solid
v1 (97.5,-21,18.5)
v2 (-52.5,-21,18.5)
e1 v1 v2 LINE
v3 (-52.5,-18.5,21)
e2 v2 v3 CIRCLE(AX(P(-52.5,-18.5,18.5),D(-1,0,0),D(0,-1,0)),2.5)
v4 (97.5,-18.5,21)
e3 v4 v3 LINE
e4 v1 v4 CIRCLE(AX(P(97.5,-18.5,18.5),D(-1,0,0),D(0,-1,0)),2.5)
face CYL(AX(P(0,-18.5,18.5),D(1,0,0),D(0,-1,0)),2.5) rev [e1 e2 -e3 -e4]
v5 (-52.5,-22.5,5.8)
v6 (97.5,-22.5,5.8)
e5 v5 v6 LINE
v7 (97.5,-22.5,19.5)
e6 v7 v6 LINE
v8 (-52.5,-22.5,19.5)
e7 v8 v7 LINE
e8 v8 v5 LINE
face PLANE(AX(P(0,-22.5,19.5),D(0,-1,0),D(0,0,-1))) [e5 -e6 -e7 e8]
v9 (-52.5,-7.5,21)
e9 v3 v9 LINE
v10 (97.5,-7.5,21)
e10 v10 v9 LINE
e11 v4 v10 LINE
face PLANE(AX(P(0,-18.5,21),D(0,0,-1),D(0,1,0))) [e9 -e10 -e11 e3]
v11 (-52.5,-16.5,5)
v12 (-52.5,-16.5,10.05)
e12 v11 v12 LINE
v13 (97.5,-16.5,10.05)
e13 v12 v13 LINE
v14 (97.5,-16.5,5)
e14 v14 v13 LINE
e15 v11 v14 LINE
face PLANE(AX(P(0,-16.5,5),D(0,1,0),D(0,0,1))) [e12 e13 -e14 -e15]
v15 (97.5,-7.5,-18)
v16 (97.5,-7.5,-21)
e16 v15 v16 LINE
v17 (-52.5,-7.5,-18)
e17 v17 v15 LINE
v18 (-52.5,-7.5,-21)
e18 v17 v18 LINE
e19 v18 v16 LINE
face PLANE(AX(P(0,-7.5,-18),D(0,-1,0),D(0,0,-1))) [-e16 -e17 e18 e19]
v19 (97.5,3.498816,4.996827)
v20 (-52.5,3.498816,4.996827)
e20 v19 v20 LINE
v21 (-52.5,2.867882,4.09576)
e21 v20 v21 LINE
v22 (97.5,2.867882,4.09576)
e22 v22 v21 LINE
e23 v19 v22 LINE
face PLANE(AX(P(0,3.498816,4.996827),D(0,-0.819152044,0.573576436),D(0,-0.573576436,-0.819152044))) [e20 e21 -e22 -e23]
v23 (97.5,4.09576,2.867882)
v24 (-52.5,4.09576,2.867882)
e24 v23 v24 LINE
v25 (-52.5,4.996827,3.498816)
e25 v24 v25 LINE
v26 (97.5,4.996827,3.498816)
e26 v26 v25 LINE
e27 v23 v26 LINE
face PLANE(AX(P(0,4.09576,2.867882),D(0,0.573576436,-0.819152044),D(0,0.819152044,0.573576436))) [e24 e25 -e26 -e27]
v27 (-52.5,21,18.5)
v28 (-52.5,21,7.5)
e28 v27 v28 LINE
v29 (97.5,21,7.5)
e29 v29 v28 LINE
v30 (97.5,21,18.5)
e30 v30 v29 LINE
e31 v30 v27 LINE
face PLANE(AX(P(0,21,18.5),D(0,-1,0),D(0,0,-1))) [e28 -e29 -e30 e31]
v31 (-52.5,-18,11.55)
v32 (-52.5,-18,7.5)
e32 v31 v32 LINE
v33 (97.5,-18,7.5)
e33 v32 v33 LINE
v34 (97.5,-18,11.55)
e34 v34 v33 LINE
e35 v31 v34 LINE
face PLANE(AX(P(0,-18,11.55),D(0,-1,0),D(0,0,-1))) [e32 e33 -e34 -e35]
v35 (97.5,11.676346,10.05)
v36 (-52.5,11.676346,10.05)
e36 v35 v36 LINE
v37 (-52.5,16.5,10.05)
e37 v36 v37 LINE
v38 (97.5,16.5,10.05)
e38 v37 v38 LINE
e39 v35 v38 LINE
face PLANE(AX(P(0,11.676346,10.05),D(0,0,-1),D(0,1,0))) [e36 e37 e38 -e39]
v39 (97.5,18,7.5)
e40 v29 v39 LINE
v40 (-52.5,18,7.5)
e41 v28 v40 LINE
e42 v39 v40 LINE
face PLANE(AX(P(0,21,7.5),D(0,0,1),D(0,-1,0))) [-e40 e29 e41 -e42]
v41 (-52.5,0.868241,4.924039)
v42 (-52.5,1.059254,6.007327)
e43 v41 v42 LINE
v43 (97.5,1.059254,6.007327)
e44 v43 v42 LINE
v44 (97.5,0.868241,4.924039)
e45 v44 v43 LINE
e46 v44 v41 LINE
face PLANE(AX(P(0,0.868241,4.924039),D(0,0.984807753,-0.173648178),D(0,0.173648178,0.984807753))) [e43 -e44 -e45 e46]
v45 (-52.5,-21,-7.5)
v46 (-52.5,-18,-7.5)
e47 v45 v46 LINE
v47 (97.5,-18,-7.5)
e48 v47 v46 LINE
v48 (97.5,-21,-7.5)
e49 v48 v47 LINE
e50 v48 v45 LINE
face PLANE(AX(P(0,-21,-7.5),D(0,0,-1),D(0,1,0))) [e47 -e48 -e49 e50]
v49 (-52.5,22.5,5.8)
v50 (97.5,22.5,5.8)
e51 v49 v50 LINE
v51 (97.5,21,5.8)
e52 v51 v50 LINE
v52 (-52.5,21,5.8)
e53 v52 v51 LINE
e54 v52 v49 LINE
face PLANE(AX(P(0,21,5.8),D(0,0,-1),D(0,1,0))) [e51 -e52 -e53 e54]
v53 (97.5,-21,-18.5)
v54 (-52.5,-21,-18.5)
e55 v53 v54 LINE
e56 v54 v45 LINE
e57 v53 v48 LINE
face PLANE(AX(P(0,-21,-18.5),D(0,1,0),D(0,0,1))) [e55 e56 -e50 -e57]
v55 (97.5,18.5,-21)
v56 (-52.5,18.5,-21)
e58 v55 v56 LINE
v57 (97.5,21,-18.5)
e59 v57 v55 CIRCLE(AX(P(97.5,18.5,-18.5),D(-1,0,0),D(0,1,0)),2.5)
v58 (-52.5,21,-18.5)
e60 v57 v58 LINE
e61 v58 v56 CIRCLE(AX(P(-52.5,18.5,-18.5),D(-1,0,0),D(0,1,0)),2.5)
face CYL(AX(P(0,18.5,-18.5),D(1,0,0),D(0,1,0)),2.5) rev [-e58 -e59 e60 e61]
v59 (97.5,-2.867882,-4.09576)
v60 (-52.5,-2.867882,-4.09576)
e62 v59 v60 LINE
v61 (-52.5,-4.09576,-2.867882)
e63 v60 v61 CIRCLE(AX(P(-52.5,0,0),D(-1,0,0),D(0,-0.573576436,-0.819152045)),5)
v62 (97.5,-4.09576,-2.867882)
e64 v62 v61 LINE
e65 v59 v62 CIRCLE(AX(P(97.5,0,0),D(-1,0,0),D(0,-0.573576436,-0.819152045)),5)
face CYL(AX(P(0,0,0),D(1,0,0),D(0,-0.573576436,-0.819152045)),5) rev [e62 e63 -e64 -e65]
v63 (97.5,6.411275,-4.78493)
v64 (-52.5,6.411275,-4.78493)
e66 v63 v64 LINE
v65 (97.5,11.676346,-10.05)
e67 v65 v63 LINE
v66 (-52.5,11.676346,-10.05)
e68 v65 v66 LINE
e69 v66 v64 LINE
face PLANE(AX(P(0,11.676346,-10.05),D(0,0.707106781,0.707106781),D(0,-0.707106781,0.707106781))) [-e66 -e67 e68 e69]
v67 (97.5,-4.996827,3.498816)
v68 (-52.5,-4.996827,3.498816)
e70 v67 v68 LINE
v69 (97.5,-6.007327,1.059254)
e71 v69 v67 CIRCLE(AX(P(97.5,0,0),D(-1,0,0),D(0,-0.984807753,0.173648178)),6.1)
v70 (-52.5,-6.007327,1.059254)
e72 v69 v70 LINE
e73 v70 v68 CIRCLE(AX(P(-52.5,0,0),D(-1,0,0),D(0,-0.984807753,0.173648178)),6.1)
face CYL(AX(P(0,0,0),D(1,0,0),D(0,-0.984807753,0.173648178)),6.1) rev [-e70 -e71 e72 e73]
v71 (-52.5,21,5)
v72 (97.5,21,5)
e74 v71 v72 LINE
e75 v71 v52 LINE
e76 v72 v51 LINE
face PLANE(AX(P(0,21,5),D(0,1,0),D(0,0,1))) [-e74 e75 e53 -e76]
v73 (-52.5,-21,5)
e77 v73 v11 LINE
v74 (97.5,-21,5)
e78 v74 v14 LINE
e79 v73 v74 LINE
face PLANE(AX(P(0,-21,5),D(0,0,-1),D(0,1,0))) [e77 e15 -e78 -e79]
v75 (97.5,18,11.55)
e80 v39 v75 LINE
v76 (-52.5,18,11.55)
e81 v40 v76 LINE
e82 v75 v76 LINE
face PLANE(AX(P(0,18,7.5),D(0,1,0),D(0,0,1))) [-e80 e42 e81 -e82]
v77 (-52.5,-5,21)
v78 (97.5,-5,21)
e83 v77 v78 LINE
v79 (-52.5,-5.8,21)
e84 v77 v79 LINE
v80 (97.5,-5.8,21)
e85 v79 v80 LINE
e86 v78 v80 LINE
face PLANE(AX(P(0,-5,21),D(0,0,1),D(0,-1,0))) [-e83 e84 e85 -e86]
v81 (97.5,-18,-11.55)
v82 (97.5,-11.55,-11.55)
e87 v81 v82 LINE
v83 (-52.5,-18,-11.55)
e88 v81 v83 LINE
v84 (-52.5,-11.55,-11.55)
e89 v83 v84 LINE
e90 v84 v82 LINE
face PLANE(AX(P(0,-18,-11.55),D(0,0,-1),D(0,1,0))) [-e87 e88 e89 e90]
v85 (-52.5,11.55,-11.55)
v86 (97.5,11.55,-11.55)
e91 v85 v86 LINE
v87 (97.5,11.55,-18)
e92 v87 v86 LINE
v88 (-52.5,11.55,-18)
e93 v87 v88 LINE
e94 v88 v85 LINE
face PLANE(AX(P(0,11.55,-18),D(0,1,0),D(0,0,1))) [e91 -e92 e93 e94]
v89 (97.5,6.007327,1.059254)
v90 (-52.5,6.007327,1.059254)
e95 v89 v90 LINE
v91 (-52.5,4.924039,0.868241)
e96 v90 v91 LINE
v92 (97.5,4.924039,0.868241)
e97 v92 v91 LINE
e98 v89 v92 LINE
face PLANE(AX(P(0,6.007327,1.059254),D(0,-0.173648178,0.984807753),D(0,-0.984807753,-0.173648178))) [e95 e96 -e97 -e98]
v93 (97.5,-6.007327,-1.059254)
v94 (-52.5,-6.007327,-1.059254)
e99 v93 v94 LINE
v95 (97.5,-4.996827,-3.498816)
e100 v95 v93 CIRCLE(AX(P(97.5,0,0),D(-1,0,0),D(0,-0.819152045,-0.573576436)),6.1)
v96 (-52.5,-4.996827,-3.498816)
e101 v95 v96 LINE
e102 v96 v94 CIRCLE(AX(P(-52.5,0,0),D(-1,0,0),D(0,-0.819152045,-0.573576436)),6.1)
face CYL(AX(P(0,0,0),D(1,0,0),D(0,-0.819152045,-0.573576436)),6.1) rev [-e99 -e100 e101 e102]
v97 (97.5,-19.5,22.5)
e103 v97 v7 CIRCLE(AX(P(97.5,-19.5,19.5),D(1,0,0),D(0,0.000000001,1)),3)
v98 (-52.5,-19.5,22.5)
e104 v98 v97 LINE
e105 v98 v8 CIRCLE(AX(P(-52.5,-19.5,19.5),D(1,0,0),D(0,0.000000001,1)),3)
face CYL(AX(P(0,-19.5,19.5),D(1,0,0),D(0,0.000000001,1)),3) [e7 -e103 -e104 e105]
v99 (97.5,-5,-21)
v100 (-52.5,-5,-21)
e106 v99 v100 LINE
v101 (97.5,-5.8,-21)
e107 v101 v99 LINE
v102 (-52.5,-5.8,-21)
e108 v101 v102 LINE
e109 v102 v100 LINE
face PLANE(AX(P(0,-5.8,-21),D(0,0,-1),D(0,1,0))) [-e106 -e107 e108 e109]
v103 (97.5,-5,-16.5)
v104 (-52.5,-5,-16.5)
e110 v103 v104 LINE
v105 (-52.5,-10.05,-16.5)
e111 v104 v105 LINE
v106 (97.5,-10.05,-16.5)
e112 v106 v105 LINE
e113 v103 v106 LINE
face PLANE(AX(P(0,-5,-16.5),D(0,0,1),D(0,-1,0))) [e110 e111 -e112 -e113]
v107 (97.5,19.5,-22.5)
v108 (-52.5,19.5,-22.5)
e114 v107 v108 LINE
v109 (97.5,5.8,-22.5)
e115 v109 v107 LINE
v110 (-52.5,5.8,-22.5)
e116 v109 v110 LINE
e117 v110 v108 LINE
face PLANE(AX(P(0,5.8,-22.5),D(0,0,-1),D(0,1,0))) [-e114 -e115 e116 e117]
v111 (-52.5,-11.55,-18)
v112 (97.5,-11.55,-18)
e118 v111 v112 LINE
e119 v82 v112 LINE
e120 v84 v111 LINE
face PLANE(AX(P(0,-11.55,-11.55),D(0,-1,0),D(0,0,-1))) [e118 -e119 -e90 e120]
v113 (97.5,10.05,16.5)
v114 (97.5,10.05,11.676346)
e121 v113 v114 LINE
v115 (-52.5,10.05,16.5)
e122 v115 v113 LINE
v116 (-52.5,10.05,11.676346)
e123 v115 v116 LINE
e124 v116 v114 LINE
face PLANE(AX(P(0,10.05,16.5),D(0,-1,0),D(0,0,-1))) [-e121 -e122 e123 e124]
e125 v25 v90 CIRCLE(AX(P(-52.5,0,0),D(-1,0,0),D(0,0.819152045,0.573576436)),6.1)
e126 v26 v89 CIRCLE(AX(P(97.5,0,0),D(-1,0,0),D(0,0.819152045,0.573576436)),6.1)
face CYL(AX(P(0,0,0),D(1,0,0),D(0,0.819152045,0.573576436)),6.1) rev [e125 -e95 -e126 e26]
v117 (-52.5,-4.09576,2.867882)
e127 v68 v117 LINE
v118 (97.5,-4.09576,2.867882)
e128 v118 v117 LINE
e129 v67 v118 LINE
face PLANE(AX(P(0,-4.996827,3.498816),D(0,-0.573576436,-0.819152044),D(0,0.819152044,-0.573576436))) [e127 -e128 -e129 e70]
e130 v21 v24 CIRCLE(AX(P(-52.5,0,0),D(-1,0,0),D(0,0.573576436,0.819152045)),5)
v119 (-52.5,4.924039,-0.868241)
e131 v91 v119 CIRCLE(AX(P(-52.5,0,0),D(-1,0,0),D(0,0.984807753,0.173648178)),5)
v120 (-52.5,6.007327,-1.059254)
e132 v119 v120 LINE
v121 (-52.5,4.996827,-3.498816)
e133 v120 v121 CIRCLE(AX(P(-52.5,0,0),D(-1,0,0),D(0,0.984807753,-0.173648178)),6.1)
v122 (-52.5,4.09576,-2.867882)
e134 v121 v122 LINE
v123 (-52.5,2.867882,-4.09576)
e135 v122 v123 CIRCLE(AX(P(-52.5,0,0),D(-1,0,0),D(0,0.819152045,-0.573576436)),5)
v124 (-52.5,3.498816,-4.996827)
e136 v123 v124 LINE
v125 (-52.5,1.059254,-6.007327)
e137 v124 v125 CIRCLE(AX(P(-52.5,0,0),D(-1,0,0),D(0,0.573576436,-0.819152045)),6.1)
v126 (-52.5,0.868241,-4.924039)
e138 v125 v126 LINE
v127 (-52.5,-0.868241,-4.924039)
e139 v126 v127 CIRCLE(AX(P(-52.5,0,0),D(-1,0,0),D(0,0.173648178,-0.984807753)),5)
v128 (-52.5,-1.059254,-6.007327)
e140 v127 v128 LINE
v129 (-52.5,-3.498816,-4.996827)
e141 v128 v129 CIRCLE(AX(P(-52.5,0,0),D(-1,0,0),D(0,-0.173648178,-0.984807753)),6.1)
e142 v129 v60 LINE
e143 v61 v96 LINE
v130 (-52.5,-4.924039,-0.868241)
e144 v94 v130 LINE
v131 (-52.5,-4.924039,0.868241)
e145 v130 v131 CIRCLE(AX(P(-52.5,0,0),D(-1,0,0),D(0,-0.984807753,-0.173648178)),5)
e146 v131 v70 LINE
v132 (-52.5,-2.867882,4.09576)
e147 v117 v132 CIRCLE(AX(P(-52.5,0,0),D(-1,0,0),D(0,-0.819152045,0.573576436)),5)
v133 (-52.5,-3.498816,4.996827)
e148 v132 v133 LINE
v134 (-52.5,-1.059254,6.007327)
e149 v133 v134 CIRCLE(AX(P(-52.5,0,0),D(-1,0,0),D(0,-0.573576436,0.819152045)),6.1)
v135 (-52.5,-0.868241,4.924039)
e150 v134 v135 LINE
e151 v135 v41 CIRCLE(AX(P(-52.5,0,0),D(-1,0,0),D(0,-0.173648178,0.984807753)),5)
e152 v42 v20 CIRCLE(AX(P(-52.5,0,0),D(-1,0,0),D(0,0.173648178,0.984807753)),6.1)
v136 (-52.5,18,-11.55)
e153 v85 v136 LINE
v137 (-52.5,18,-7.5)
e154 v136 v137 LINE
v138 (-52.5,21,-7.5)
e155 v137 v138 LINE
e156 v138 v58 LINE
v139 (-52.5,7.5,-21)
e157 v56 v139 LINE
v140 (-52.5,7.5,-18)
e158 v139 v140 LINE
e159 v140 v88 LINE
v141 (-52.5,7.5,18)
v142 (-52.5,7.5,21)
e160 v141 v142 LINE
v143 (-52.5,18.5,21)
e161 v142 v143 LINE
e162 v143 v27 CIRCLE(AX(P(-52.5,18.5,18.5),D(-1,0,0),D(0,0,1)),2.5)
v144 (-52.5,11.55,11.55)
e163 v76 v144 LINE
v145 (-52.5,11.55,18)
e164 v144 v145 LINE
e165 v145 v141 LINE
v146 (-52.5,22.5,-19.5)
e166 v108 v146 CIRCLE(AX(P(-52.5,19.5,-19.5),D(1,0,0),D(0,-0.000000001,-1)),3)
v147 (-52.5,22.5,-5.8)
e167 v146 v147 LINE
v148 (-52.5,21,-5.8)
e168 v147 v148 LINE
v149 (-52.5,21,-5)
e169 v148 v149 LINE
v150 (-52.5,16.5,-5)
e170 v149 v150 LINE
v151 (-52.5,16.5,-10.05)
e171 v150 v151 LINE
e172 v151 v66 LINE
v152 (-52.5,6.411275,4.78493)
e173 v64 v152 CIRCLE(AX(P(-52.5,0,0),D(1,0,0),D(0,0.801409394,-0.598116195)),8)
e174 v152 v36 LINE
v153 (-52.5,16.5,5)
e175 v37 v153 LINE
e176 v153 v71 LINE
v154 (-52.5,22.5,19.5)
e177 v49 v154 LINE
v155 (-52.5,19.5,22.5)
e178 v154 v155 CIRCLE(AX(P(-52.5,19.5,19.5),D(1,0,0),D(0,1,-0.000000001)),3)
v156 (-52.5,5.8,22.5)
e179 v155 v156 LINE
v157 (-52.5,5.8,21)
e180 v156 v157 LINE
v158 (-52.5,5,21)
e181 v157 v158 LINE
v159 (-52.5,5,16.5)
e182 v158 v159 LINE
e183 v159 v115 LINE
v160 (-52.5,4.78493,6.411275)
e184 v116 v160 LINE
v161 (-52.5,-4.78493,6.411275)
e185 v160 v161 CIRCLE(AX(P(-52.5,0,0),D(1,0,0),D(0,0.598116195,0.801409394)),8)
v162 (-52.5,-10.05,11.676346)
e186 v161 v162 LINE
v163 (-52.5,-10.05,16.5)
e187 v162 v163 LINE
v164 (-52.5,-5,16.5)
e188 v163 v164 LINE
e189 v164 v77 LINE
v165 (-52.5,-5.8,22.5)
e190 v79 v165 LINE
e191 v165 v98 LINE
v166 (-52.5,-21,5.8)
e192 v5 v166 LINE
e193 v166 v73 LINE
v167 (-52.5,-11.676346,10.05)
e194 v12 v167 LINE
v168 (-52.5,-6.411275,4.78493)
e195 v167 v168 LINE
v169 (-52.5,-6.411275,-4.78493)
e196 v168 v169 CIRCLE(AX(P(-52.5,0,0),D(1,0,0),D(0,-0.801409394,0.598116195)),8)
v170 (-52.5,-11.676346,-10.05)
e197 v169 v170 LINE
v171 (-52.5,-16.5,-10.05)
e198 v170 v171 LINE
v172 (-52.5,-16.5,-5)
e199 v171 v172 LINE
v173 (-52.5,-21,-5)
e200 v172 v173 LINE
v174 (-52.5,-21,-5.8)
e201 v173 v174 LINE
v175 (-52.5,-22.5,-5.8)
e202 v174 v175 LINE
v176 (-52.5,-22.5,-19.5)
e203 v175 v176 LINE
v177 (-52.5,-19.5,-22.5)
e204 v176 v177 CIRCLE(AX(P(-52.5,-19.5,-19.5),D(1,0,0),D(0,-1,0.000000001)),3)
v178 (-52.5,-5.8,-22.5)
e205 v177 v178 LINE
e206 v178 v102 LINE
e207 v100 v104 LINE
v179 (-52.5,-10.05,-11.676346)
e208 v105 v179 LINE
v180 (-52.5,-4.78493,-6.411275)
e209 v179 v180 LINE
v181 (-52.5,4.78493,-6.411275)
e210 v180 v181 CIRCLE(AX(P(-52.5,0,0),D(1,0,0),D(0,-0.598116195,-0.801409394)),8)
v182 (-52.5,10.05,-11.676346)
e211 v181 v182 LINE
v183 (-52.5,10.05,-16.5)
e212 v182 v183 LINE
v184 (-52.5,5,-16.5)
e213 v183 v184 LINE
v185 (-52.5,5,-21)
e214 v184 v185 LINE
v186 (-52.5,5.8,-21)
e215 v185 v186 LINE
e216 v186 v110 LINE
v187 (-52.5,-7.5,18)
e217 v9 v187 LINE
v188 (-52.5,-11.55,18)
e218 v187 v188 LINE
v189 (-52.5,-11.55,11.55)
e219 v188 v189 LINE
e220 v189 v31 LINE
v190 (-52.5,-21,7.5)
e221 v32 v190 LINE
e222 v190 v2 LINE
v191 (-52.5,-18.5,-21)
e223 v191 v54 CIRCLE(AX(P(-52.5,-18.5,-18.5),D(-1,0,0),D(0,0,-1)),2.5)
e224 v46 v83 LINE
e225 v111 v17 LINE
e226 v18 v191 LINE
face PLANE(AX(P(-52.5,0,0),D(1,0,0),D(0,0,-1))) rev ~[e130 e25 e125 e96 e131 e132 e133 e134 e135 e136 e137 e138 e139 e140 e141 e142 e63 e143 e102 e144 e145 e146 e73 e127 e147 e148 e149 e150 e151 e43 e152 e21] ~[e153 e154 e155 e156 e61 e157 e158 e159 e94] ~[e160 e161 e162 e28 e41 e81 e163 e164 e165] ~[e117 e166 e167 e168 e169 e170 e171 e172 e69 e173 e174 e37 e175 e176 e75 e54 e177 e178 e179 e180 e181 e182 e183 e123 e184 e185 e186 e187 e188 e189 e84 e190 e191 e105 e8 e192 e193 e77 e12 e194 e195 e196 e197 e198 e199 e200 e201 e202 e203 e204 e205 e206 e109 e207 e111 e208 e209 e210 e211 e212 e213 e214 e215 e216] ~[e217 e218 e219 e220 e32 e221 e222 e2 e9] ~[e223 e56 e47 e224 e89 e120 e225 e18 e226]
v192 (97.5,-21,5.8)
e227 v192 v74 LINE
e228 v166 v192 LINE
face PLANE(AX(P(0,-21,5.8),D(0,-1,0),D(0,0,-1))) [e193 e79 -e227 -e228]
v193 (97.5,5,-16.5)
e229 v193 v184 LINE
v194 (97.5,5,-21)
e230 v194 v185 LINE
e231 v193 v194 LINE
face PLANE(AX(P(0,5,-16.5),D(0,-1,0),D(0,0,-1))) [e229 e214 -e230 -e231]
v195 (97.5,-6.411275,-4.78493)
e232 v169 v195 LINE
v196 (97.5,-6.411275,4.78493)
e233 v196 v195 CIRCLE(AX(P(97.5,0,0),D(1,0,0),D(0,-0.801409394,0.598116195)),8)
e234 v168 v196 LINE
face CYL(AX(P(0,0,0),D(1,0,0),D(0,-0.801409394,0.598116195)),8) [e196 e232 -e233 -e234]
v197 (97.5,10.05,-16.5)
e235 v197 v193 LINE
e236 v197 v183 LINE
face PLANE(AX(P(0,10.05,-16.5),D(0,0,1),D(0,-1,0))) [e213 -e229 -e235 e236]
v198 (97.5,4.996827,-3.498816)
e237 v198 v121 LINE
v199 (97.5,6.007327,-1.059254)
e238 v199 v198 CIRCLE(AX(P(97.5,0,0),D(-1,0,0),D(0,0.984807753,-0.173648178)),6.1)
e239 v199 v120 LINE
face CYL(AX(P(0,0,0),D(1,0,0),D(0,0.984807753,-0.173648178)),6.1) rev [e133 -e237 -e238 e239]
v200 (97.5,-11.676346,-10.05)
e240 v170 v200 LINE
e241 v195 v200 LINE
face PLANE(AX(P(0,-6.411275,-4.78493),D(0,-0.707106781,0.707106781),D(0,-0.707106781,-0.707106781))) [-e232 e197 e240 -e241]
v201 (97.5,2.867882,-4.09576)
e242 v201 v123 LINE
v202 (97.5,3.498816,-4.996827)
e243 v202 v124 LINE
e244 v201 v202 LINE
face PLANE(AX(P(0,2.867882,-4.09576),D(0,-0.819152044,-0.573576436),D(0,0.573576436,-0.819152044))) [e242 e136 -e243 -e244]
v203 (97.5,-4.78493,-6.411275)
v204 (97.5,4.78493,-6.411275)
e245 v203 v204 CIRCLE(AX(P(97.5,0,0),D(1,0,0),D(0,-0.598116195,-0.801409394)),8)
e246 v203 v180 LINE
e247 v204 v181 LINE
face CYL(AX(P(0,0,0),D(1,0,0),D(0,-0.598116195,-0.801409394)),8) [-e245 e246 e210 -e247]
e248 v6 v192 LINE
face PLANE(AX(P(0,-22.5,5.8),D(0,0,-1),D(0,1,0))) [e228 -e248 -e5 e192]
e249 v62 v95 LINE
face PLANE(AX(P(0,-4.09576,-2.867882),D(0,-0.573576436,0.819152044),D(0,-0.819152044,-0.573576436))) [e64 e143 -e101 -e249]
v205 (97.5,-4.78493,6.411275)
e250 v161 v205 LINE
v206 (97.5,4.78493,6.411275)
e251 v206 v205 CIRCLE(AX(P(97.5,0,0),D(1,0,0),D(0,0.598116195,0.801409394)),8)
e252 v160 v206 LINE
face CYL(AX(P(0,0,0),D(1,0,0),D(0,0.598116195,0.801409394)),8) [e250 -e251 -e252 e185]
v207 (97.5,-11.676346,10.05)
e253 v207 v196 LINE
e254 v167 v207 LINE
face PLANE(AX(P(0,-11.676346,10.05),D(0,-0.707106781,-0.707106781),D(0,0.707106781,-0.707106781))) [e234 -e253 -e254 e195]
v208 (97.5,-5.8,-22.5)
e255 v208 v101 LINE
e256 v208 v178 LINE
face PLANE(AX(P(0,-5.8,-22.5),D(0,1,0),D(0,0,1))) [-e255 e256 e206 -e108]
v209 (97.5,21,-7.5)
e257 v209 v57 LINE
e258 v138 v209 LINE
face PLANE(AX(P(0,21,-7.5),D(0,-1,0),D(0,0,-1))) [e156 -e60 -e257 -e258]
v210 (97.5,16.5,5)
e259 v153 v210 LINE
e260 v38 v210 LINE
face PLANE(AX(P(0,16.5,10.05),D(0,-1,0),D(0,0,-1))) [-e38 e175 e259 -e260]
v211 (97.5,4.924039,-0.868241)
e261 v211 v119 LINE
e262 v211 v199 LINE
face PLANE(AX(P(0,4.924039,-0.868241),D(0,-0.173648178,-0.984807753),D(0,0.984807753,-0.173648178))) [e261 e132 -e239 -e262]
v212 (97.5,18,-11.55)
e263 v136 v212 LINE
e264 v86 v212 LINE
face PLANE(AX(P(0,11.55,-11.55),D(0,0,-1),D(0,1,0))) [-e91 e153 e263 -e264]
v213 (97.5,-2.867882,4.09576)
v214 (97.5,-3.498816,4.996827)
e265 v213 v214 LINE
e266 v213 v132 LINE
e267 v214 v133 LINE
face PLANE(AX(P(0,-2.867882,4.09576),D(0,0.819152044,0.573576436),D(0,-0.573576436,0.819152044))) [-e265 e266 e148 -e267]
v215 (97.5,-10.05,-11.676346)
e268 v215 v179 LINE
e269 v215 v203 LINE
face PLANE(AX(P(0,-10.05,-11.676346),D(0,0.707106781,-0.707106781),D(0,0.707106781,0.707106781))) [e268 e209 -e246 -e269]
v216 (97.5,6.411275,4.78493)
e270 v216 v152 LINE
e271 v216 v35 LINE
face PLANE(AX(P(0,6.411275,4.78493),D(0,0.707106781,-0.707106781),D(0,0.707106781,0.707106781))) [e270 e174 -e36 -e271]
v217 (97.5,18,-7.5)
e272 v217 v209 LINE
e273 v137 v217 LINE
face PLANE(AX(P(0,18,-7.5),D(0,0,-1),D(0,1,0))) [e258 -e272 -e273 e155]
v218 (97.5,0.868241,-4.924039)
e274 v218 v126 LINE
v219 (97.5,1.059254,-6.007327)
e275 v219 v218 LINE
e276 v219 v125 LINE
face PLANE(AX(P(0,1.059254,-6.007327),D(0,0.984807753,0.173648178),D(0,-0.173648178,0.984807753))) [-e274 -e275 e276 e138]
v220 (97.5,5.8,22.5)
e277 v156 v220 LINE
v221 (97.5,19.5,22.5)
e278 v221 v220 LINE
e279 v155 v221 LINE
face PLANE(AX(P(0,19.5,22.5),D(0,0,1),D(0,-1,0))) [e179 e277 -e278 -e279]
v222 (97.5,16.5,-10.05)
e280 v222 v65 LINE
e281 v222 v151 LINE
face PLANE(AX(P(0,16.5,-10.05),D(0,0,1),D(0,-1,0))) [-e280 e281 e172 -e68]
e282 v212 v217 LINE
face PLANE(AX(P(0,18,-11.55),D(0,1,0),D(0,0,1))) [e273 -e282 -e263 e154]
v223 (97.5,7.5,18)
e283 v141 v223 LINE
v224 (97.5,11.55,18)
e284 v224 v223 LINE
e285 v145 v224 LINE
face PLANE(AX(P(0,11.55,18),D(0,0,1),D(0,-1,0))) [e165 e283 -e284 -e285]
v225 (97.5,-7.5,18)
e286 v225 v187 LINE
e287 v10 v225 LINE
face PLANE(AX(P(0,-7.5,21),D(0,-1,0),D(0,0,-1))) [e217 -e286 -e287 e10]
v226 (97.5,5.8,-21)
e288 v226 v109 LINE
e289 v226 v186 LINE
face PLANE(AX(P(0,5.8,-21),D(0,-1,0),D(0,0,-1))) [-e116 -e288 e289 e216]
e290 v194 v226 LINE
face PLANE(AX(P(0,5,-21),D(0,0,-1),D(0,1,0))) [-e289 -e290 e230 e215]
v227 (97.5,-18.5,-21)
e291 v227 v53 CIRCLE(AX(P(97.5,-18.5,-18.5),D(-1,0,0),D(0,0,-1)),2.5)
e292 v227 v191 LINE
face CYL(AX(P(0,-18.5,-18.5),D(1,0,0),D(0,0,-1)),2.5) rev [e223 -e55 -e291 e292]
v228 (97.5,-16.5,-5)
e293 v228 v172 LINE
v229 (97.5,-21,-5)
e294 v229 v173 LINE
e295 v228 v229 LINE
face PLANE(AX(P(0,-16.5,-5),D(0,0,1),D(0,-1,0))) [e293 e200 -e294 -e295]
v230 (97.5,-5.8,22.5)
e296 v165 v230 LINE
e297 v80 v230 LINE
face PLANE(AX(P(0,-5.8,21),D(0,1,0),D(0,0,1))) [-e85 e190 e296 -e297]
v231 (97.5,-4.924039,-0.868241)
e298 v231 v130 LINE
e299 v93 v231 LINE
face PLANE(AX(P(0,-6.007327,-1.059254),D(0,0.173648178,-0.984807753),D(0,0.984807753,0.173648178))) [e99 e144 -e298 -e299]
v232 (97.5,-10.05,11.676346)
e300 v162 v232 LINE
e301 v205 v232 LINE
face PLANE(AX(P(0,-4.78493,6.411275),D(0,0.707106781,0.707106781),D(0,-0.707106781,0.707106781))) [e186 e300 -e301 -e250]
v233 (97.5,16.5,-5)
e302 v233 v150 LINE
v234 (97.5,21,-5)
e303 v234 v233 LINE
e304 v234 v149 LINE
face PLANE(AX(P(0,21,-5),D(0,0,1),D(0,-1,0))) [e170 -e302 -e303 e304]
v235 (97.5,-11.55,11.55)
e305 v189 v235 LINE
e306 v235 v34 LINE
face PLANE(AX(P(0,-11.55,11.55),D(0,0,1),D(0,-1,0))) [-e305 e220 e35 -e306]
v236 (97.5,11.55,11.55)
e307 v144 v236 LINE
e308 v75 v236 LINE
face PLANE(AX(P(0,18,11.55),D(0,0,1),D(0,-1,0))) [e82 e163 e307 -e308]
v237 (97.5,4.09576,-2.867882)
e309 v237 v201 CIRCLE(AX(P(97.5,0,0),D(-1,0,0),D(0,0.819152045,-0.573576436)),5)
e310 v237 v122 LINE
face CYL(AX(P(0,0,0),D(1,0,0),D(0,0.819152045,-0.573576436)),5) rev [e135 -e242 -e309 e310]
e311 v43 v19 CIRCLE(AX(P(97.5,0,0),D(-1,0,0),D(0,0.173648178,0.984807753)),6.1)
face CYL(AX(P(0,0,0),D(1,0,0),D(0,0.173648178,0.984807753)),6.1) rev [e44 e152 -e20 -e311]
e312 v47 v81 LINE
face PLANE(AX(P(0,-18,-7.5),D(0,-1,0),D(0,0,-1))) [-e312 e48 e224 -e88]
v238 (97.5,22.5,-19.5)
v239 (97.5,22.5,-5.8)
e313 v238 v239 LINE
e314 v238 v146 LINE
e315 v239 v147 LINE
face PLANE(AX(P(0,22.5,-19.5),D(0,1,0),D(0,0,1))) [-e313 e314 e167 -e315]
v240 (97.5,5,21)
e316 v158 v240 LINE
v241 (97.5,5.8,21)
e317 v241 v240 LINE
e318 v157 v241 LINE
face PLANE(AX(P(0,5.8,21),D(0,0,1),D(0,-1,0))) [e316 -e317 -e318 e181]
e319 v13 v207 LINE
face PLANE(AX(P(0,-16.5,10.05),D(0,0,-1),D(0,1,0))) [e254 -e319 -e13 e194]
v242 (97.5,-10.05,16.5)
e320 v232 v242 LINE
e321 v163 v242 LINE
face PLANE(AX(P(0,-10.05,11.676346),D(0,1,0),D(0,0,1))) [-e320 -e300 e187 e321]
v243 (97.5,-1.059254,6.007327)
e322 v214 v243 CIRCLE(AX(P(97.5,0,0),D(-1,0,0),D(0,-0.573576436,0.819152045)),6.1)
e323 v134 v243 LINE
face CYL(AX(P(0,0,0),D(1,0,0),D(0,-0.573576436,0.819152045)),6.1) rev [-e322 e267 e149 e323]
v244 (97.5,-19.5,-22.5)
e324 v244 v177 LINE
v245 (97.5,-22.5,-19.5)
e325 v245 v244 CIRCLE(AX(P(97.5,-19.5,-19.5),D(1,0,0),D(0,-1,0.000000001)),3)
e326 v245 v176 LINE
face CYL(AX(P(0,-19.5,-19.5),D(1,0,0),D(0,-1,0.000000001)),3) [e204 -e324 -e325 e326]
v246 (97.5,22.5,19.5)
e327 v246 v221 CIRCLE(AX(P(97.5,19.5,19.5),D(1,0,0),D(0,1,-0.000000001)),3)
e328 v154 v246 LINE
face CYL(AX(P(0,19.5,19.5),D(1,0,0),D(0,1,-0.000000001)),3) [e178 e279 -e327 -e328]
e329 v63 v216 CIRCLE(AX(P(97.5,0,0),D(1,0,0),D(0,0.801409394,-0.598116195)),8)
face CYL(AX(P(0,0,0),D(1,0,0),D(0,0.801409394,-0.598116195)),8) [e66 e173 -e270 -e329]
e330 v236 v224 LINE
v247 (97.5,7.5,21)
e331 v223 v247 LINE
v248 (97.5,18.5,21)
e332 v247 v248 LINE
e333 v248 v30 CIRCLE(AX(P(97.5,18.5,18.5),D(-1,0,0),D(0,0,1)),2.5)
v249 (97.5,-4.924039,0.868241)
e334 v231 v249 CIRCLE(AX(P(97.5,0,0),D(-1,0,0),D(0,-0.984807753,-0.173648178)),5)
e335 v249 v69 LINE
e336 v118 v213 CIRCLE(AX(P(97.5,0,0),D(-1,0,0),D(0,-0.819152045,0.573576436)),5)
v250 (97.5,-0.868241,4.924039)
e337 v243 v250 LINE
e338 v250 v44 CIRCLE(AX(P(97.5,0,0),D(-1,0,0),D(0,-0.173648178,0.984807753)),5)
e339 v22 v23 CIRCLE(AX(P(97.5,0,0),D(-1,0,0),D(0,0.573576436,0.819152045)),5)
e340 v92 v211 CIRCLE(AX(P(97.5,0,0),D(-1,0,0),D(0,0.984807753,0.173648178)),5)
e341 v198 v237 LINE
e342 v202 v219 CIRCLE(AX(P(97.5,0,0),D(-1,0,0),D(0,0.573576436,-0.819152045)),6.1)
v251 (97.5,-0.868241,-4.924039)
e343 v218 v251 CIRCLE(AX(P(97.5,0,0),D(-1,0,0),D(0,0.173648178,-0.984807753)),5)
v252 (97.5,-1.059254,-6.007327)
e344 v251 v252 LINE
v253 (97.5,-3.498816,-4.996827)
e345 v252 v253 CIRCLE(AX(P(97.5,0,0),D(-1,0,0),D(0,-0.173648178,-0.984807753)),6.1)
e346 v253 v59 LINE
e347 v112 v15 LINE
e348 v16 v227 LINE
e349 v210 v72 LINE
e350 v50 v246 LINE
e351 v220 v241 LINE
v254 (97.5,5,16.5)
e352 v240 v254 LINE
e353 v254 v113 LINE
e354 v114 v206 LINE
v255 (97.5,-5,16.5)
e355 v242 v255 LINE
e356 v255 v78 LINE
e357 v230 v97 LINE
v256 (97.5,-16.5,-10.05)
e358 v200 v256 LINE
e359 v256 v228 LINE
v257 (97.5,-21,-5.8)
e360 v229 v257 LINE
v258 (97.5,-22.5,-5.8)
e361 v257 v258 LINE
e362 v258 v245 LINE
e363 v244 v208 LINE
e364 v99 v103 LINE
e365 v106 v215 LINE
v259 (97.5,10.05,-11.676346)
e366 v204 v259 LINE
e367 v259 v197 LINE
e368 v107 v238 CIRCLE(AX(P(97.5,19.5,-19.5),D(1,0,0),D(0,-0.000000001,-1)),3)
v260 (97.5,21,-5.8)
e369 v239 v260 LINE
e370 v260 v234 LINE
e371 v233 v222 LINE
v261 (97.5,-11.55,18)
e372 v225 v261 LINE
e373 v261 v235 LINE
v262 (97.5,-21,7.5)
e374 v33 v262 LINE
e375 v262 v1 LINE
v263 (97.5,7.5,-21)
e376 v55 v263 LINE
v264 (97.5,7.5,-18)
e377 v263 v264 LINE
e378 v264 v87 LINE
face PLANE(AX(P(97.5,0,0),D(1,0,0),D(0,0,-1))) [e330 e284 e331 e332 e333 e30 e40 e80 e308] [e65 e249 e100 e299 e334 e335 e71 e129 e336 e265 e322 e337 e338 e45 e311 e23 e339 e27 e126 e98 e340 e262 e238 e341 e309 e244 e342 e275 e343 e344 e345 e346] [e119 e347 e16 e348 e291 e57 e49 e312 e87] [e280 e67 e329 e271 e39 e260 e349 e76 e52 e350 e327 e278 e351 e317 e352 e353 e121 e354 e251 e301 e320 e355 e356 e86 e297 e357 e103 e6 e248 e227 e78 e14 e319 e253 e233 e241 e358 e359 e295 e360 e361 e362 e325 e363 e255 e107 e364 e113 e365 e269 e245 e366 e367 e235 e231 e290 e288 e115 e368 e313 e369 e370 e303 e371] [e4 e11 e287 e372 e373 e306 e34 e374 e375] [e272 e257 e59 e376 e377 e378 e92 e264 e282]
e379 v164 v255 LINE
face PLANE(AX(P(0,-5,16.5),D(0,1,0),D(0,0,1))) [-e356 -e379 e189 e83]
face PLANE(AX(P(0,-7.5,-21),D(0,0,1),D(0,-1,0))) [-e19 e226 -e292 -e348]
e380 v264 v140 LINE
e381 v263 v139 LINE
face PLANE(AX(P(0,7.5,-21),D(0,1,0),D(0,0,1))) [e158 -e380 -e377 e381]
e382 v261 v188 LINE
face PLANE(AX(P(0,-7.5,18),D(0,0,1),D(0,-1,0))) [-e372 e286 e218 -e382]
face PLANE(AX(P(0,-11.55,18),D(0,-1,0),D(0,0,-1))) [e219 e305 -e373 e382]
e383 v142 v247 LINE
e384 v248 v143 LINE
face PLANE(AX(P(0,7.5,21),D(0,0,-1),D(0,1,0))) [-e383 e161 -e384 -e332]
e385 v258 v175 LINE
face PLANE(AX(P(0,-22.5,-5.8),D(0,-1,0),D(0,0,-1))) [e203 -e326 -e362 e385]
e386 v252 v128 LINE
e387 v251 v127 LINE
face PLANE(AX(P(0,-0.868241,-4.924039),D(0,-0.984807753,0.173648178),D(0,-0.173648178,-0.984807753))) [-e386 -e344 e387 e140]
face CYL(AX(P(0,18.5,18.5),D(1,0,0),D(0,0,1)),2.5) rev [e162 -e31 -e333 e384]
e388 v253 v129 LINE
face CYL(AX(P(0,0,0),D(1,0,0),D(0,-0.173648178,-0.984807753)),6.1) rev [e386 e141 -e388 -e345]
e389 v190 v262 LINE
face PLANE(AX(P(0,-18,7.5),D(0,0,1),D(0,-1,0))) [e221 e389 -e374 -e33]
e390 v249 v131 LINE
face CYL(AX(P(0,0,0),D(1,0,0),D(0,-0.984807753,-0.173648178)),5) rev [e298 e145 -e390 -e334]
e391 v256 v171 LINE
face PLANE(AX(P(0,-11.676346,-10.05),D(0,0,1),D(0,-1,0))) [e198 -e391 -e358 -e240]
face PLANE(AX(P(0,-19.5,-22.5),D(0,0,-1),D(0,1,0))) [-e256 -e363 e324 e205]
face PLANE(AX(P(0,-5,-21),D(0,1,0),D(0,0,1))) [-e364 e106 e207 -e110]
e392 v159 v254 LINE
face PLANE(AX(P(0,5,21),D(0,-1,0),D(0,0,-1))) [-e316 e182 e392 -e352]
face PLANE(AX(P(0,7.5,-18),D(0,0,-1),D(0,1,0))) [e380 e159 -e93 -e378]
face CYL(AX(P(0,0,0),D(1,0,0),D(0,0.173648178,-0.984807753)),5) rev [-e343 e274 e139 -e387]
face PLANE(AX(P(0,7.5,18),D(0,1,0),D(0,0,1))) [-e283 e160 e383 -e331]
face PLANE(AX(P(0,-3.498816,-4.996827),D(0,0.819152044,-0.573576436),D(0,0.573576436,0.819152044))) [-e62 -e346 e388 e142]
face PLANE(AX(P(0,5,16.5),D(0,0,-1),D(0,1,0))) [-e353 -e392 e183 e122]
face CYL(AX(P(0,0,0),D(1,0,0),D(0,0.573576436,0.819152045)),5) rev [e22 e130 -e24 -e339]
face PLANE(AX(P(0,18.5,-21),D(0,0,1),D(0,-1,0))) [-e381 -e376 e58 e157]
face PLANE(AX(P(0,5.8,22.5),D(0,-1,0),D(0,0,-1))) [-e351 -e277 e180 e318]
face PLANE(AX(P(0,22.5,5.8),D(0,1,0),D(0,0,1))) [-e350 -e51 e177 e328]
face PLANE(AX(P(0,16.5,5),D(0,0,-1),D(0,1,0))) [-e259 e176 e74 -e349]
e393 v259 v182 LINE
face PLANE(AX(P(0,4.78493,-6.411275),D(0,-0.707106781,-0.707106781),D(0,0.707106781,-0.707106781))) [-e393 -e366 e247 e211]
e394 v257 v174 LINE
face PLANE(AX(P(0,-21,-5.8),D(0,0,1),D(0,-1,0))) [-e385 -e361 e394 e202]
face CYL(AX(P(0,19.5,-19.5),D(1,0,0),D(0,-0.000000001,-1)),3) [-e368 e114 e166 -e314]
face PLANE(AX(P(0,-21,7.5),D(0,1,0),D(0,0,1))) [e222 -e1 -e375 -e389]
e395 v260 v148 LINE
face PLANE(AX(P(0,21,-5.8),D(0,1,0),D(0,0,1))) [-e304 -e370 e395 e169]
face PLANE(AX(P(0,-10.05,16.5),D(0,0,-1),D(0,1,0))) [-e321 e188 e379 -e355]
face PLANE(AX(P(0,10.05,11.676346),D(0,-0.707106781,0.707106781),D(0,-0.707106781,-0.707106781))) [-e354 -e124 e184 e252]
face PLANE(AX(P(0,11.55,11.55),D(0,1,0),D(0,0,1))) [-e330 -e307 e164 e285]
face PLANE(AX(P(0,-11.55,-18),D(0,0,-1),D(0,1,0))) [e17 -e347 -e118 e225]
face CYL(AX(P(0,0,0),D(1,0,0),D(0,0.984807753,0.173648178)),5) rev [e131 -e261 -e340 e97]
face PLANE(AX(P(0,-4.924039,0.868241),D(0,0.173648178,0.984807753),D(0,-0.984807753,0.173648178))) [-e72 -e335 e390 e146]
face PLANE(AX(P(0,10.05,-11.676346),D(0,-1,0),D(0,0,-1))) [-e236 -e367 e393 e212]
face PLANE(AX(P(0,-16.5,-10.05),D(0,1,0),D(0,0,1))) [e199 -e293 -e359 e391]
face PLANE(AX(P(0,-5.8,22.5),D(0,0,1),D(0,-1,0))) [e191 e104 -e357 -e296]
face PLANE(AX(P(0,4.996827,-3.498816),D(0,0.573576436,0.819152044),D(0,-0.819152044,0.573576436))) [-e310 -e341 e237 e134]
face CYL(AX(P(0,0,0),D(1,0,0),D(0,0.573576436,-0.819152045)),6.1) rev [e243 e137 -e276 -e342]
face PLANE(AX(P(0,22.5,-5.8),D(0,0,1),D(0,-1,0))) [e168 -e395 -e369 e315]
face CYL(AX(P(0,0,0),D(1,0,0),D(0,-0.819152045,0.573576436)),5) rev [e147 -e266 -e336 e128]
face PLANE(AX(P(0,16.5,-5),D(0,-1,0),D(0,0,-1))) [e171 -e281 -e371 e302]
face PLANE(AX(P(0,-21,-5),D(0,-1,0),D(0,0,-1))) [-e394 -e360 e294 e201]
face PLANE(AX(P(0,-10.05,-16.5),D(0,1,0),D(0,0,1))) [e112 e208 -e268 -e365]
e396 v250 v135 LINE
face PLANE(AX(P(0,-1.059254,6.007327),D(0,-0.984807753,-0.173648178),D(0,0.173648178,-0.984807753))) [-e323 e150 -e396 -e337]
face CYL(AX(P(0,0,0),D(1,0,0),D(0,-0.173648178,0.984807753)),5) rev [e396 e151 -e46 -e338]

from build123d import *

# Parameters (mm, degrees)
BR_EXTRUDE_DEPTH      = 97.5
BR_EXTRUDE_DEPTH_BACK = 52.5


with BuildPart() as part:
    # Sketch2 → BR_Extrude (new body, two sides)
    with BuildSketch(Plane(origin=(0, 0, 0), x_dir=(0, 0, -1), z_dir=(1, 0, 0))) as br_extrude_sk:
        with BuildLine():
            Line((-10.05, 11.676345597), (-10.05, 16.5))
            Line((-10.05, 16.5), (-5, 16.5))
            Line((-5, 16.5), (-5, 21))
            Line((-5, 21), (-5.8, 21))
            Line((-5.8, 21), (-5.8, 22.5))
            Line((-5.8, 22.5), (-19.5, 22.5))
            ThreePointArc((-19.5, 22.5), (-21.621320344, 21.621320344), (-22.5, 19.5))
            Line((-22.5, 19.5), (-22.5, 5.8))
            Line((-22.5, 5.8), (-21, 5.8))
            Line((-21, 5.8), (-21, 5))
            Line((-21, 5), (-16.5, 5))
            Line((-16.5, 5), (-16.5, 10.05))
            Line((-16.5, 10.05), (-11.676345597, 10.05))
            Line((-11.676345597, 10.05), (-6.411275155, 4.784929559))
            ThreePointArc((-6.411275155, 4.784929559), (-8, 0), (-6.411275155, -4.784929559))
            Line((-6.411275155, -4.784929559), (-11.676345597, -10.05))
            Line((-11.676345597, -10.05), (-16.5, -10.05))
            Line((-16.5, -10.05), (-16.5, -5))
            Line((-16.5, -5), (-21, -5))
            Line((-21, -5), (-21, -5.8))
            Line((-21, -5.8), (-22.5, -5.8))
            Line((-22.5, -5.8), (-22.5, -19.5))
            ThreePointArc((-22.5, -19.5), (-21.621320344, -21.621320344), (-19.5, -22.5))
            Line((-19.5, -22.5), (-5.8, -22.5))
            Line((-5.8, -22.5), (-5.8, -21))
            Line((-5.8, -21), (-5, -21))
            Line((-5, -21), (-5, -16.5))
            Line((-5, -16.5), (-10.05, -16.5))
            Line((-10.05, -16.5), (-10.05, -11.676345597))
            Line((-10.05, -11.676345597), (-4.784929559, -6.411275155))
            ThreePointArc((-4.784929559, -6.411275155), (0, -8), (4.784929559, -6.411275155))
            Line((4.784929559, -6.411275155), (10.05, -11.676345597))
            Line((10.05, -11.676345597), (10.05, -16.5))
            Line((10.05, -16.5), (5, -16.5))
            Line((5, -16.5), (5, -21))
            Line((5, -21), (5.8, -21))
            Line((5.8, -21), (5.8, -22.5))
            Line((5.8, -22.5), (19.5, -22.5))
            ThreePointArc((19.5, -22.5), (21.621320344, -21.621320344), (22.5, -19.5))
            Line((22.5, -19.5), (22.5, -5.8))
            Line((22.5, -5.8), (21, -5.8))
            Line((21, -5.8), (21, -5))
            Line((21, -5), (16.5, -5))
            Line((16.5, -5), (16.5, -10.05))
            Line((16.5, -10.05), (11.676345597, -10.05))
            Line((11.676345597, -10.05), (6.411275155, -4.784929559))
            ThreePointArc((6.411275155, -4.784929559), (8, 0), (6.411275155, 4.784929559))
            Line((6.411275155, 4.784929559), (11.676345597, 10.05))
            Line((11.676345597, 10.05), (16.5, 10.05))
            Line((16.5, 10.05), (16.5, 5))
            Line((16.5, 5), (21, 5))
            Line((21, 5), (21, 5.8))
            Line((21, 5.8), (22.5, 5.8))
            Line((22.5, 5.8), (22.5, 19.5))
            ThreePointArc((22.5, 19.5), (21.621320344, 21.621320344), (19.5, 22.5))
            Line((19.5, 22.5), (5.8, 22.5))
            Line((5.8, 22.5), (5.8, 21))
            Line((5.8, 21), (5, 21))
            Line((5, 21), (5, 16.5))
            Line((5, 16.5), (10.05, 16.5))
            Line((10.05, 16.5), (10.05, 11.676345597))
            Line((10.05, 11.676345597), (4.784929559, 6.411275155))
            ThreePointArc((4.784929559, 6.411275155), (0, 8), (-4.784929559, 6.411275155))
            Line((-4.784929559, 6.411275155), (-10.05, 11.676345597))
        make_face()
        with BuildLine():
            Line((11.55, 11.55), (11.55, 18))
            Line((11.55, 18), (7.5, 18))
            Line((7.5, 18), (7.5, 21))
            Line((7.5, 21), (18.5, 21))
            ThreePointArc((18.5, 21), (20.267766953, 20.267766953), (21, 18.5))
            Line((21, 18.5), (21, 7.5))
            Line((21, 7.5), (18, 7.5))
            Line((18, 7.5), (18, 11.55))
            Line((18, 11.55), (11.55, 11.55))
        make_face(mode=Mode.SUBTRACT)
        with BuildLine():
            Line((11.55, -11.55), (18, -11.55))
            Line((18, -11.55), (18, -7.5))
            Line((18, -7.5), (21, -7.5))
            Line((21, -7.5), (21, -18.5))
            ThreePointArc((21, -18.5), (20.267766953, -20.267766953), (18.5, -21))
            Line((18.5, -21), (7.5, -21))
            Line((7.5, -21), (7.5, -18))
            Line((7.5, -18), (11.55, -18))
            Line((11.55, -18), (11.55, -11.55))
        make_face(mode=Mode.SUBTRACT)
        with BuildLine():
            Line((-11.55, 11.55), (-18, 11.55))
            Line((-18, 11.55), (-18, 7.5))
            Line((-18, 7.5), (-21, 7.5))
            Line((-21, 7.5), (-21, 18.5))
            ThreePointArc((-21, 18.5), (-20.267766953, 20.267766953), (-18.5, 21))
            Line((-18.5, 21), (-7.5, 21))
            Line((-7.5, 21), (-7.5, 18))
            Line((-7.5, 18), (-11.55, 18))
            Line((-11.55, 18), (-11.55, 11.55))
        make_face(mode=Mode.SUBTRACT)
        with BuildLine():
            Line((-11.55, -11.55), (-11.55, -18))
            Line((-11.55, -18), (-7.5, -18))
            Line((-7.5, -18), (-7.5, -21))
            Line((-7.5, -21), (-18.5, -21))
            ThreePointArc((-18.5, -21), (-20.267766953, -20.267766953), (-21, -18.5))
            Line((-21, -18.5), (-21, -7.5))
            Line((-21, -7.5), (-18, -7.5))
            Line((-18, -7.5), (-18, -11.55))
            Line((-18, -11.55), (-11.55, -11.55))
        make_face(mode=Mode.SUBTRACT)
        with BuildLine():
            Line((-6.007327293, -1.059253884), (-4.924038765, -0.868240888))
            ThreePointArc((-4.924038765, -0.868240888), (-5, 0), (-4.924038765, 0.868240888))
            Line((-4.924038765, 0.868240888), (-6.007327293, 1.059253884))
            ThreePointArc((-6.007327293, 1.059253884), (-5.635665148, 2.334368937), (-4.99682747, 3.498816262))
            Line((-4.99682747, 3.498816262), (-4.095760221, 2.867882182))
            ThreePointArc((-4.095760221, 2.867882182), (-3.535533906, 3.535533906), (-2.867882182, 4.095760221))
            Line((-2.867882182, 4.095760221), (-3.498816262, 4.99682747))
            ThreePointArc((-3.498816262, 4.99682747), (-2.334368937, 5.635665148), (-1.059253884, 6.007327293))
            Line((-1.059253884, 6.007327293), (-0.868240888, 4.924038765))
            ThreePointArc((-0.868240888, 4.924038765), (0, 5), (0.868240888, 4.924038765))
            Line((0.868240888, 4.924038765), (1.059253884, 6.007327293))
            ThreePointArc((1.059253884, 6.007327293), (2.334368937, 5.635665148), (3.498816262, 4.99682747))
            Line((3.498816262, 4.99682747), (2.867882182, 4.095760221))
            ThreePointArc((2.867882182, 4.095760221), (3.535533906, 3.535533906), (4.095760221, 2.867882182))
            Line((4.095760221, 2.867882182), (4.99682747, 3.498816262))
            ThreePointArc((4.99682747, 3.498816262), (5.635665148, 2.334368937), (6.007327293, 1.059253884))
            Line((6.007327293, 1.059253884), (4.924038765, 0.868240888))
            ThreePointArc((4.924038765, 0.868240888), (5, 0), (4.924038765, -0.868240888))
            Line((4.924038765, -0.868240888), (6.007327293, -1.059253884))
            ThreePointArc((6.007327293, -1.059253884), (5.635665148, -2.334368937), (4.99682747, -3.498816262))
            Line((4.99682747, -3.498816262), (4.095760221, -2.867882182))
            ThreePointArc((4.095760221, -2.867882182), (3.535533906, -3.535533906), (2.867882182, -4.095760221))
            Line((2.867882182, -4.095760221), (3.498816262, -4.99682747))
            ThreePointArc((3.498816262, -4.99682747), (2.334368937, -5.635665148), (1.059253884, -6.007327293))
            Line((1.059253884, -6.007327293), (0.868240888, -4.924038765))
            ThreePointArc((0.868240888, -4.924038765), (0, -5), (-0.868240888, -4.924038765))
            Line((-0.868240888, -4.924038765), (-1.059253884, -6.007327293))
            ThreePointArc((-1.059253884, -6.007327293), (-2.334368937, -5.635665148), (-3.498816262, -4.99682747))
            Line((-3.498816262, -4.99682747), (-2.867882182, -4.095760221))
            ThreePointArc((-2.867882182, -4.095760221), (-3.535533906, -3.535533906), (-4.095760221, -2.867882182))
            Line((-4.095760221, -2.867882182), (-4.99682747, -3.498816262))
            ThreePointArc((-4.99682747, -3.498816262), (-5.635665148, -2.334368937), (-6.007327293, -1.059253884))
        make_face(mode=Mode.SUBTRACT)
    extrude(amount=BR_EXTRUDE_DEPTH)
    extrude(br_extrude_sk.sketch, amount=-BR_EXTRUDE_DEPTH_BACK)


solid = part.part
